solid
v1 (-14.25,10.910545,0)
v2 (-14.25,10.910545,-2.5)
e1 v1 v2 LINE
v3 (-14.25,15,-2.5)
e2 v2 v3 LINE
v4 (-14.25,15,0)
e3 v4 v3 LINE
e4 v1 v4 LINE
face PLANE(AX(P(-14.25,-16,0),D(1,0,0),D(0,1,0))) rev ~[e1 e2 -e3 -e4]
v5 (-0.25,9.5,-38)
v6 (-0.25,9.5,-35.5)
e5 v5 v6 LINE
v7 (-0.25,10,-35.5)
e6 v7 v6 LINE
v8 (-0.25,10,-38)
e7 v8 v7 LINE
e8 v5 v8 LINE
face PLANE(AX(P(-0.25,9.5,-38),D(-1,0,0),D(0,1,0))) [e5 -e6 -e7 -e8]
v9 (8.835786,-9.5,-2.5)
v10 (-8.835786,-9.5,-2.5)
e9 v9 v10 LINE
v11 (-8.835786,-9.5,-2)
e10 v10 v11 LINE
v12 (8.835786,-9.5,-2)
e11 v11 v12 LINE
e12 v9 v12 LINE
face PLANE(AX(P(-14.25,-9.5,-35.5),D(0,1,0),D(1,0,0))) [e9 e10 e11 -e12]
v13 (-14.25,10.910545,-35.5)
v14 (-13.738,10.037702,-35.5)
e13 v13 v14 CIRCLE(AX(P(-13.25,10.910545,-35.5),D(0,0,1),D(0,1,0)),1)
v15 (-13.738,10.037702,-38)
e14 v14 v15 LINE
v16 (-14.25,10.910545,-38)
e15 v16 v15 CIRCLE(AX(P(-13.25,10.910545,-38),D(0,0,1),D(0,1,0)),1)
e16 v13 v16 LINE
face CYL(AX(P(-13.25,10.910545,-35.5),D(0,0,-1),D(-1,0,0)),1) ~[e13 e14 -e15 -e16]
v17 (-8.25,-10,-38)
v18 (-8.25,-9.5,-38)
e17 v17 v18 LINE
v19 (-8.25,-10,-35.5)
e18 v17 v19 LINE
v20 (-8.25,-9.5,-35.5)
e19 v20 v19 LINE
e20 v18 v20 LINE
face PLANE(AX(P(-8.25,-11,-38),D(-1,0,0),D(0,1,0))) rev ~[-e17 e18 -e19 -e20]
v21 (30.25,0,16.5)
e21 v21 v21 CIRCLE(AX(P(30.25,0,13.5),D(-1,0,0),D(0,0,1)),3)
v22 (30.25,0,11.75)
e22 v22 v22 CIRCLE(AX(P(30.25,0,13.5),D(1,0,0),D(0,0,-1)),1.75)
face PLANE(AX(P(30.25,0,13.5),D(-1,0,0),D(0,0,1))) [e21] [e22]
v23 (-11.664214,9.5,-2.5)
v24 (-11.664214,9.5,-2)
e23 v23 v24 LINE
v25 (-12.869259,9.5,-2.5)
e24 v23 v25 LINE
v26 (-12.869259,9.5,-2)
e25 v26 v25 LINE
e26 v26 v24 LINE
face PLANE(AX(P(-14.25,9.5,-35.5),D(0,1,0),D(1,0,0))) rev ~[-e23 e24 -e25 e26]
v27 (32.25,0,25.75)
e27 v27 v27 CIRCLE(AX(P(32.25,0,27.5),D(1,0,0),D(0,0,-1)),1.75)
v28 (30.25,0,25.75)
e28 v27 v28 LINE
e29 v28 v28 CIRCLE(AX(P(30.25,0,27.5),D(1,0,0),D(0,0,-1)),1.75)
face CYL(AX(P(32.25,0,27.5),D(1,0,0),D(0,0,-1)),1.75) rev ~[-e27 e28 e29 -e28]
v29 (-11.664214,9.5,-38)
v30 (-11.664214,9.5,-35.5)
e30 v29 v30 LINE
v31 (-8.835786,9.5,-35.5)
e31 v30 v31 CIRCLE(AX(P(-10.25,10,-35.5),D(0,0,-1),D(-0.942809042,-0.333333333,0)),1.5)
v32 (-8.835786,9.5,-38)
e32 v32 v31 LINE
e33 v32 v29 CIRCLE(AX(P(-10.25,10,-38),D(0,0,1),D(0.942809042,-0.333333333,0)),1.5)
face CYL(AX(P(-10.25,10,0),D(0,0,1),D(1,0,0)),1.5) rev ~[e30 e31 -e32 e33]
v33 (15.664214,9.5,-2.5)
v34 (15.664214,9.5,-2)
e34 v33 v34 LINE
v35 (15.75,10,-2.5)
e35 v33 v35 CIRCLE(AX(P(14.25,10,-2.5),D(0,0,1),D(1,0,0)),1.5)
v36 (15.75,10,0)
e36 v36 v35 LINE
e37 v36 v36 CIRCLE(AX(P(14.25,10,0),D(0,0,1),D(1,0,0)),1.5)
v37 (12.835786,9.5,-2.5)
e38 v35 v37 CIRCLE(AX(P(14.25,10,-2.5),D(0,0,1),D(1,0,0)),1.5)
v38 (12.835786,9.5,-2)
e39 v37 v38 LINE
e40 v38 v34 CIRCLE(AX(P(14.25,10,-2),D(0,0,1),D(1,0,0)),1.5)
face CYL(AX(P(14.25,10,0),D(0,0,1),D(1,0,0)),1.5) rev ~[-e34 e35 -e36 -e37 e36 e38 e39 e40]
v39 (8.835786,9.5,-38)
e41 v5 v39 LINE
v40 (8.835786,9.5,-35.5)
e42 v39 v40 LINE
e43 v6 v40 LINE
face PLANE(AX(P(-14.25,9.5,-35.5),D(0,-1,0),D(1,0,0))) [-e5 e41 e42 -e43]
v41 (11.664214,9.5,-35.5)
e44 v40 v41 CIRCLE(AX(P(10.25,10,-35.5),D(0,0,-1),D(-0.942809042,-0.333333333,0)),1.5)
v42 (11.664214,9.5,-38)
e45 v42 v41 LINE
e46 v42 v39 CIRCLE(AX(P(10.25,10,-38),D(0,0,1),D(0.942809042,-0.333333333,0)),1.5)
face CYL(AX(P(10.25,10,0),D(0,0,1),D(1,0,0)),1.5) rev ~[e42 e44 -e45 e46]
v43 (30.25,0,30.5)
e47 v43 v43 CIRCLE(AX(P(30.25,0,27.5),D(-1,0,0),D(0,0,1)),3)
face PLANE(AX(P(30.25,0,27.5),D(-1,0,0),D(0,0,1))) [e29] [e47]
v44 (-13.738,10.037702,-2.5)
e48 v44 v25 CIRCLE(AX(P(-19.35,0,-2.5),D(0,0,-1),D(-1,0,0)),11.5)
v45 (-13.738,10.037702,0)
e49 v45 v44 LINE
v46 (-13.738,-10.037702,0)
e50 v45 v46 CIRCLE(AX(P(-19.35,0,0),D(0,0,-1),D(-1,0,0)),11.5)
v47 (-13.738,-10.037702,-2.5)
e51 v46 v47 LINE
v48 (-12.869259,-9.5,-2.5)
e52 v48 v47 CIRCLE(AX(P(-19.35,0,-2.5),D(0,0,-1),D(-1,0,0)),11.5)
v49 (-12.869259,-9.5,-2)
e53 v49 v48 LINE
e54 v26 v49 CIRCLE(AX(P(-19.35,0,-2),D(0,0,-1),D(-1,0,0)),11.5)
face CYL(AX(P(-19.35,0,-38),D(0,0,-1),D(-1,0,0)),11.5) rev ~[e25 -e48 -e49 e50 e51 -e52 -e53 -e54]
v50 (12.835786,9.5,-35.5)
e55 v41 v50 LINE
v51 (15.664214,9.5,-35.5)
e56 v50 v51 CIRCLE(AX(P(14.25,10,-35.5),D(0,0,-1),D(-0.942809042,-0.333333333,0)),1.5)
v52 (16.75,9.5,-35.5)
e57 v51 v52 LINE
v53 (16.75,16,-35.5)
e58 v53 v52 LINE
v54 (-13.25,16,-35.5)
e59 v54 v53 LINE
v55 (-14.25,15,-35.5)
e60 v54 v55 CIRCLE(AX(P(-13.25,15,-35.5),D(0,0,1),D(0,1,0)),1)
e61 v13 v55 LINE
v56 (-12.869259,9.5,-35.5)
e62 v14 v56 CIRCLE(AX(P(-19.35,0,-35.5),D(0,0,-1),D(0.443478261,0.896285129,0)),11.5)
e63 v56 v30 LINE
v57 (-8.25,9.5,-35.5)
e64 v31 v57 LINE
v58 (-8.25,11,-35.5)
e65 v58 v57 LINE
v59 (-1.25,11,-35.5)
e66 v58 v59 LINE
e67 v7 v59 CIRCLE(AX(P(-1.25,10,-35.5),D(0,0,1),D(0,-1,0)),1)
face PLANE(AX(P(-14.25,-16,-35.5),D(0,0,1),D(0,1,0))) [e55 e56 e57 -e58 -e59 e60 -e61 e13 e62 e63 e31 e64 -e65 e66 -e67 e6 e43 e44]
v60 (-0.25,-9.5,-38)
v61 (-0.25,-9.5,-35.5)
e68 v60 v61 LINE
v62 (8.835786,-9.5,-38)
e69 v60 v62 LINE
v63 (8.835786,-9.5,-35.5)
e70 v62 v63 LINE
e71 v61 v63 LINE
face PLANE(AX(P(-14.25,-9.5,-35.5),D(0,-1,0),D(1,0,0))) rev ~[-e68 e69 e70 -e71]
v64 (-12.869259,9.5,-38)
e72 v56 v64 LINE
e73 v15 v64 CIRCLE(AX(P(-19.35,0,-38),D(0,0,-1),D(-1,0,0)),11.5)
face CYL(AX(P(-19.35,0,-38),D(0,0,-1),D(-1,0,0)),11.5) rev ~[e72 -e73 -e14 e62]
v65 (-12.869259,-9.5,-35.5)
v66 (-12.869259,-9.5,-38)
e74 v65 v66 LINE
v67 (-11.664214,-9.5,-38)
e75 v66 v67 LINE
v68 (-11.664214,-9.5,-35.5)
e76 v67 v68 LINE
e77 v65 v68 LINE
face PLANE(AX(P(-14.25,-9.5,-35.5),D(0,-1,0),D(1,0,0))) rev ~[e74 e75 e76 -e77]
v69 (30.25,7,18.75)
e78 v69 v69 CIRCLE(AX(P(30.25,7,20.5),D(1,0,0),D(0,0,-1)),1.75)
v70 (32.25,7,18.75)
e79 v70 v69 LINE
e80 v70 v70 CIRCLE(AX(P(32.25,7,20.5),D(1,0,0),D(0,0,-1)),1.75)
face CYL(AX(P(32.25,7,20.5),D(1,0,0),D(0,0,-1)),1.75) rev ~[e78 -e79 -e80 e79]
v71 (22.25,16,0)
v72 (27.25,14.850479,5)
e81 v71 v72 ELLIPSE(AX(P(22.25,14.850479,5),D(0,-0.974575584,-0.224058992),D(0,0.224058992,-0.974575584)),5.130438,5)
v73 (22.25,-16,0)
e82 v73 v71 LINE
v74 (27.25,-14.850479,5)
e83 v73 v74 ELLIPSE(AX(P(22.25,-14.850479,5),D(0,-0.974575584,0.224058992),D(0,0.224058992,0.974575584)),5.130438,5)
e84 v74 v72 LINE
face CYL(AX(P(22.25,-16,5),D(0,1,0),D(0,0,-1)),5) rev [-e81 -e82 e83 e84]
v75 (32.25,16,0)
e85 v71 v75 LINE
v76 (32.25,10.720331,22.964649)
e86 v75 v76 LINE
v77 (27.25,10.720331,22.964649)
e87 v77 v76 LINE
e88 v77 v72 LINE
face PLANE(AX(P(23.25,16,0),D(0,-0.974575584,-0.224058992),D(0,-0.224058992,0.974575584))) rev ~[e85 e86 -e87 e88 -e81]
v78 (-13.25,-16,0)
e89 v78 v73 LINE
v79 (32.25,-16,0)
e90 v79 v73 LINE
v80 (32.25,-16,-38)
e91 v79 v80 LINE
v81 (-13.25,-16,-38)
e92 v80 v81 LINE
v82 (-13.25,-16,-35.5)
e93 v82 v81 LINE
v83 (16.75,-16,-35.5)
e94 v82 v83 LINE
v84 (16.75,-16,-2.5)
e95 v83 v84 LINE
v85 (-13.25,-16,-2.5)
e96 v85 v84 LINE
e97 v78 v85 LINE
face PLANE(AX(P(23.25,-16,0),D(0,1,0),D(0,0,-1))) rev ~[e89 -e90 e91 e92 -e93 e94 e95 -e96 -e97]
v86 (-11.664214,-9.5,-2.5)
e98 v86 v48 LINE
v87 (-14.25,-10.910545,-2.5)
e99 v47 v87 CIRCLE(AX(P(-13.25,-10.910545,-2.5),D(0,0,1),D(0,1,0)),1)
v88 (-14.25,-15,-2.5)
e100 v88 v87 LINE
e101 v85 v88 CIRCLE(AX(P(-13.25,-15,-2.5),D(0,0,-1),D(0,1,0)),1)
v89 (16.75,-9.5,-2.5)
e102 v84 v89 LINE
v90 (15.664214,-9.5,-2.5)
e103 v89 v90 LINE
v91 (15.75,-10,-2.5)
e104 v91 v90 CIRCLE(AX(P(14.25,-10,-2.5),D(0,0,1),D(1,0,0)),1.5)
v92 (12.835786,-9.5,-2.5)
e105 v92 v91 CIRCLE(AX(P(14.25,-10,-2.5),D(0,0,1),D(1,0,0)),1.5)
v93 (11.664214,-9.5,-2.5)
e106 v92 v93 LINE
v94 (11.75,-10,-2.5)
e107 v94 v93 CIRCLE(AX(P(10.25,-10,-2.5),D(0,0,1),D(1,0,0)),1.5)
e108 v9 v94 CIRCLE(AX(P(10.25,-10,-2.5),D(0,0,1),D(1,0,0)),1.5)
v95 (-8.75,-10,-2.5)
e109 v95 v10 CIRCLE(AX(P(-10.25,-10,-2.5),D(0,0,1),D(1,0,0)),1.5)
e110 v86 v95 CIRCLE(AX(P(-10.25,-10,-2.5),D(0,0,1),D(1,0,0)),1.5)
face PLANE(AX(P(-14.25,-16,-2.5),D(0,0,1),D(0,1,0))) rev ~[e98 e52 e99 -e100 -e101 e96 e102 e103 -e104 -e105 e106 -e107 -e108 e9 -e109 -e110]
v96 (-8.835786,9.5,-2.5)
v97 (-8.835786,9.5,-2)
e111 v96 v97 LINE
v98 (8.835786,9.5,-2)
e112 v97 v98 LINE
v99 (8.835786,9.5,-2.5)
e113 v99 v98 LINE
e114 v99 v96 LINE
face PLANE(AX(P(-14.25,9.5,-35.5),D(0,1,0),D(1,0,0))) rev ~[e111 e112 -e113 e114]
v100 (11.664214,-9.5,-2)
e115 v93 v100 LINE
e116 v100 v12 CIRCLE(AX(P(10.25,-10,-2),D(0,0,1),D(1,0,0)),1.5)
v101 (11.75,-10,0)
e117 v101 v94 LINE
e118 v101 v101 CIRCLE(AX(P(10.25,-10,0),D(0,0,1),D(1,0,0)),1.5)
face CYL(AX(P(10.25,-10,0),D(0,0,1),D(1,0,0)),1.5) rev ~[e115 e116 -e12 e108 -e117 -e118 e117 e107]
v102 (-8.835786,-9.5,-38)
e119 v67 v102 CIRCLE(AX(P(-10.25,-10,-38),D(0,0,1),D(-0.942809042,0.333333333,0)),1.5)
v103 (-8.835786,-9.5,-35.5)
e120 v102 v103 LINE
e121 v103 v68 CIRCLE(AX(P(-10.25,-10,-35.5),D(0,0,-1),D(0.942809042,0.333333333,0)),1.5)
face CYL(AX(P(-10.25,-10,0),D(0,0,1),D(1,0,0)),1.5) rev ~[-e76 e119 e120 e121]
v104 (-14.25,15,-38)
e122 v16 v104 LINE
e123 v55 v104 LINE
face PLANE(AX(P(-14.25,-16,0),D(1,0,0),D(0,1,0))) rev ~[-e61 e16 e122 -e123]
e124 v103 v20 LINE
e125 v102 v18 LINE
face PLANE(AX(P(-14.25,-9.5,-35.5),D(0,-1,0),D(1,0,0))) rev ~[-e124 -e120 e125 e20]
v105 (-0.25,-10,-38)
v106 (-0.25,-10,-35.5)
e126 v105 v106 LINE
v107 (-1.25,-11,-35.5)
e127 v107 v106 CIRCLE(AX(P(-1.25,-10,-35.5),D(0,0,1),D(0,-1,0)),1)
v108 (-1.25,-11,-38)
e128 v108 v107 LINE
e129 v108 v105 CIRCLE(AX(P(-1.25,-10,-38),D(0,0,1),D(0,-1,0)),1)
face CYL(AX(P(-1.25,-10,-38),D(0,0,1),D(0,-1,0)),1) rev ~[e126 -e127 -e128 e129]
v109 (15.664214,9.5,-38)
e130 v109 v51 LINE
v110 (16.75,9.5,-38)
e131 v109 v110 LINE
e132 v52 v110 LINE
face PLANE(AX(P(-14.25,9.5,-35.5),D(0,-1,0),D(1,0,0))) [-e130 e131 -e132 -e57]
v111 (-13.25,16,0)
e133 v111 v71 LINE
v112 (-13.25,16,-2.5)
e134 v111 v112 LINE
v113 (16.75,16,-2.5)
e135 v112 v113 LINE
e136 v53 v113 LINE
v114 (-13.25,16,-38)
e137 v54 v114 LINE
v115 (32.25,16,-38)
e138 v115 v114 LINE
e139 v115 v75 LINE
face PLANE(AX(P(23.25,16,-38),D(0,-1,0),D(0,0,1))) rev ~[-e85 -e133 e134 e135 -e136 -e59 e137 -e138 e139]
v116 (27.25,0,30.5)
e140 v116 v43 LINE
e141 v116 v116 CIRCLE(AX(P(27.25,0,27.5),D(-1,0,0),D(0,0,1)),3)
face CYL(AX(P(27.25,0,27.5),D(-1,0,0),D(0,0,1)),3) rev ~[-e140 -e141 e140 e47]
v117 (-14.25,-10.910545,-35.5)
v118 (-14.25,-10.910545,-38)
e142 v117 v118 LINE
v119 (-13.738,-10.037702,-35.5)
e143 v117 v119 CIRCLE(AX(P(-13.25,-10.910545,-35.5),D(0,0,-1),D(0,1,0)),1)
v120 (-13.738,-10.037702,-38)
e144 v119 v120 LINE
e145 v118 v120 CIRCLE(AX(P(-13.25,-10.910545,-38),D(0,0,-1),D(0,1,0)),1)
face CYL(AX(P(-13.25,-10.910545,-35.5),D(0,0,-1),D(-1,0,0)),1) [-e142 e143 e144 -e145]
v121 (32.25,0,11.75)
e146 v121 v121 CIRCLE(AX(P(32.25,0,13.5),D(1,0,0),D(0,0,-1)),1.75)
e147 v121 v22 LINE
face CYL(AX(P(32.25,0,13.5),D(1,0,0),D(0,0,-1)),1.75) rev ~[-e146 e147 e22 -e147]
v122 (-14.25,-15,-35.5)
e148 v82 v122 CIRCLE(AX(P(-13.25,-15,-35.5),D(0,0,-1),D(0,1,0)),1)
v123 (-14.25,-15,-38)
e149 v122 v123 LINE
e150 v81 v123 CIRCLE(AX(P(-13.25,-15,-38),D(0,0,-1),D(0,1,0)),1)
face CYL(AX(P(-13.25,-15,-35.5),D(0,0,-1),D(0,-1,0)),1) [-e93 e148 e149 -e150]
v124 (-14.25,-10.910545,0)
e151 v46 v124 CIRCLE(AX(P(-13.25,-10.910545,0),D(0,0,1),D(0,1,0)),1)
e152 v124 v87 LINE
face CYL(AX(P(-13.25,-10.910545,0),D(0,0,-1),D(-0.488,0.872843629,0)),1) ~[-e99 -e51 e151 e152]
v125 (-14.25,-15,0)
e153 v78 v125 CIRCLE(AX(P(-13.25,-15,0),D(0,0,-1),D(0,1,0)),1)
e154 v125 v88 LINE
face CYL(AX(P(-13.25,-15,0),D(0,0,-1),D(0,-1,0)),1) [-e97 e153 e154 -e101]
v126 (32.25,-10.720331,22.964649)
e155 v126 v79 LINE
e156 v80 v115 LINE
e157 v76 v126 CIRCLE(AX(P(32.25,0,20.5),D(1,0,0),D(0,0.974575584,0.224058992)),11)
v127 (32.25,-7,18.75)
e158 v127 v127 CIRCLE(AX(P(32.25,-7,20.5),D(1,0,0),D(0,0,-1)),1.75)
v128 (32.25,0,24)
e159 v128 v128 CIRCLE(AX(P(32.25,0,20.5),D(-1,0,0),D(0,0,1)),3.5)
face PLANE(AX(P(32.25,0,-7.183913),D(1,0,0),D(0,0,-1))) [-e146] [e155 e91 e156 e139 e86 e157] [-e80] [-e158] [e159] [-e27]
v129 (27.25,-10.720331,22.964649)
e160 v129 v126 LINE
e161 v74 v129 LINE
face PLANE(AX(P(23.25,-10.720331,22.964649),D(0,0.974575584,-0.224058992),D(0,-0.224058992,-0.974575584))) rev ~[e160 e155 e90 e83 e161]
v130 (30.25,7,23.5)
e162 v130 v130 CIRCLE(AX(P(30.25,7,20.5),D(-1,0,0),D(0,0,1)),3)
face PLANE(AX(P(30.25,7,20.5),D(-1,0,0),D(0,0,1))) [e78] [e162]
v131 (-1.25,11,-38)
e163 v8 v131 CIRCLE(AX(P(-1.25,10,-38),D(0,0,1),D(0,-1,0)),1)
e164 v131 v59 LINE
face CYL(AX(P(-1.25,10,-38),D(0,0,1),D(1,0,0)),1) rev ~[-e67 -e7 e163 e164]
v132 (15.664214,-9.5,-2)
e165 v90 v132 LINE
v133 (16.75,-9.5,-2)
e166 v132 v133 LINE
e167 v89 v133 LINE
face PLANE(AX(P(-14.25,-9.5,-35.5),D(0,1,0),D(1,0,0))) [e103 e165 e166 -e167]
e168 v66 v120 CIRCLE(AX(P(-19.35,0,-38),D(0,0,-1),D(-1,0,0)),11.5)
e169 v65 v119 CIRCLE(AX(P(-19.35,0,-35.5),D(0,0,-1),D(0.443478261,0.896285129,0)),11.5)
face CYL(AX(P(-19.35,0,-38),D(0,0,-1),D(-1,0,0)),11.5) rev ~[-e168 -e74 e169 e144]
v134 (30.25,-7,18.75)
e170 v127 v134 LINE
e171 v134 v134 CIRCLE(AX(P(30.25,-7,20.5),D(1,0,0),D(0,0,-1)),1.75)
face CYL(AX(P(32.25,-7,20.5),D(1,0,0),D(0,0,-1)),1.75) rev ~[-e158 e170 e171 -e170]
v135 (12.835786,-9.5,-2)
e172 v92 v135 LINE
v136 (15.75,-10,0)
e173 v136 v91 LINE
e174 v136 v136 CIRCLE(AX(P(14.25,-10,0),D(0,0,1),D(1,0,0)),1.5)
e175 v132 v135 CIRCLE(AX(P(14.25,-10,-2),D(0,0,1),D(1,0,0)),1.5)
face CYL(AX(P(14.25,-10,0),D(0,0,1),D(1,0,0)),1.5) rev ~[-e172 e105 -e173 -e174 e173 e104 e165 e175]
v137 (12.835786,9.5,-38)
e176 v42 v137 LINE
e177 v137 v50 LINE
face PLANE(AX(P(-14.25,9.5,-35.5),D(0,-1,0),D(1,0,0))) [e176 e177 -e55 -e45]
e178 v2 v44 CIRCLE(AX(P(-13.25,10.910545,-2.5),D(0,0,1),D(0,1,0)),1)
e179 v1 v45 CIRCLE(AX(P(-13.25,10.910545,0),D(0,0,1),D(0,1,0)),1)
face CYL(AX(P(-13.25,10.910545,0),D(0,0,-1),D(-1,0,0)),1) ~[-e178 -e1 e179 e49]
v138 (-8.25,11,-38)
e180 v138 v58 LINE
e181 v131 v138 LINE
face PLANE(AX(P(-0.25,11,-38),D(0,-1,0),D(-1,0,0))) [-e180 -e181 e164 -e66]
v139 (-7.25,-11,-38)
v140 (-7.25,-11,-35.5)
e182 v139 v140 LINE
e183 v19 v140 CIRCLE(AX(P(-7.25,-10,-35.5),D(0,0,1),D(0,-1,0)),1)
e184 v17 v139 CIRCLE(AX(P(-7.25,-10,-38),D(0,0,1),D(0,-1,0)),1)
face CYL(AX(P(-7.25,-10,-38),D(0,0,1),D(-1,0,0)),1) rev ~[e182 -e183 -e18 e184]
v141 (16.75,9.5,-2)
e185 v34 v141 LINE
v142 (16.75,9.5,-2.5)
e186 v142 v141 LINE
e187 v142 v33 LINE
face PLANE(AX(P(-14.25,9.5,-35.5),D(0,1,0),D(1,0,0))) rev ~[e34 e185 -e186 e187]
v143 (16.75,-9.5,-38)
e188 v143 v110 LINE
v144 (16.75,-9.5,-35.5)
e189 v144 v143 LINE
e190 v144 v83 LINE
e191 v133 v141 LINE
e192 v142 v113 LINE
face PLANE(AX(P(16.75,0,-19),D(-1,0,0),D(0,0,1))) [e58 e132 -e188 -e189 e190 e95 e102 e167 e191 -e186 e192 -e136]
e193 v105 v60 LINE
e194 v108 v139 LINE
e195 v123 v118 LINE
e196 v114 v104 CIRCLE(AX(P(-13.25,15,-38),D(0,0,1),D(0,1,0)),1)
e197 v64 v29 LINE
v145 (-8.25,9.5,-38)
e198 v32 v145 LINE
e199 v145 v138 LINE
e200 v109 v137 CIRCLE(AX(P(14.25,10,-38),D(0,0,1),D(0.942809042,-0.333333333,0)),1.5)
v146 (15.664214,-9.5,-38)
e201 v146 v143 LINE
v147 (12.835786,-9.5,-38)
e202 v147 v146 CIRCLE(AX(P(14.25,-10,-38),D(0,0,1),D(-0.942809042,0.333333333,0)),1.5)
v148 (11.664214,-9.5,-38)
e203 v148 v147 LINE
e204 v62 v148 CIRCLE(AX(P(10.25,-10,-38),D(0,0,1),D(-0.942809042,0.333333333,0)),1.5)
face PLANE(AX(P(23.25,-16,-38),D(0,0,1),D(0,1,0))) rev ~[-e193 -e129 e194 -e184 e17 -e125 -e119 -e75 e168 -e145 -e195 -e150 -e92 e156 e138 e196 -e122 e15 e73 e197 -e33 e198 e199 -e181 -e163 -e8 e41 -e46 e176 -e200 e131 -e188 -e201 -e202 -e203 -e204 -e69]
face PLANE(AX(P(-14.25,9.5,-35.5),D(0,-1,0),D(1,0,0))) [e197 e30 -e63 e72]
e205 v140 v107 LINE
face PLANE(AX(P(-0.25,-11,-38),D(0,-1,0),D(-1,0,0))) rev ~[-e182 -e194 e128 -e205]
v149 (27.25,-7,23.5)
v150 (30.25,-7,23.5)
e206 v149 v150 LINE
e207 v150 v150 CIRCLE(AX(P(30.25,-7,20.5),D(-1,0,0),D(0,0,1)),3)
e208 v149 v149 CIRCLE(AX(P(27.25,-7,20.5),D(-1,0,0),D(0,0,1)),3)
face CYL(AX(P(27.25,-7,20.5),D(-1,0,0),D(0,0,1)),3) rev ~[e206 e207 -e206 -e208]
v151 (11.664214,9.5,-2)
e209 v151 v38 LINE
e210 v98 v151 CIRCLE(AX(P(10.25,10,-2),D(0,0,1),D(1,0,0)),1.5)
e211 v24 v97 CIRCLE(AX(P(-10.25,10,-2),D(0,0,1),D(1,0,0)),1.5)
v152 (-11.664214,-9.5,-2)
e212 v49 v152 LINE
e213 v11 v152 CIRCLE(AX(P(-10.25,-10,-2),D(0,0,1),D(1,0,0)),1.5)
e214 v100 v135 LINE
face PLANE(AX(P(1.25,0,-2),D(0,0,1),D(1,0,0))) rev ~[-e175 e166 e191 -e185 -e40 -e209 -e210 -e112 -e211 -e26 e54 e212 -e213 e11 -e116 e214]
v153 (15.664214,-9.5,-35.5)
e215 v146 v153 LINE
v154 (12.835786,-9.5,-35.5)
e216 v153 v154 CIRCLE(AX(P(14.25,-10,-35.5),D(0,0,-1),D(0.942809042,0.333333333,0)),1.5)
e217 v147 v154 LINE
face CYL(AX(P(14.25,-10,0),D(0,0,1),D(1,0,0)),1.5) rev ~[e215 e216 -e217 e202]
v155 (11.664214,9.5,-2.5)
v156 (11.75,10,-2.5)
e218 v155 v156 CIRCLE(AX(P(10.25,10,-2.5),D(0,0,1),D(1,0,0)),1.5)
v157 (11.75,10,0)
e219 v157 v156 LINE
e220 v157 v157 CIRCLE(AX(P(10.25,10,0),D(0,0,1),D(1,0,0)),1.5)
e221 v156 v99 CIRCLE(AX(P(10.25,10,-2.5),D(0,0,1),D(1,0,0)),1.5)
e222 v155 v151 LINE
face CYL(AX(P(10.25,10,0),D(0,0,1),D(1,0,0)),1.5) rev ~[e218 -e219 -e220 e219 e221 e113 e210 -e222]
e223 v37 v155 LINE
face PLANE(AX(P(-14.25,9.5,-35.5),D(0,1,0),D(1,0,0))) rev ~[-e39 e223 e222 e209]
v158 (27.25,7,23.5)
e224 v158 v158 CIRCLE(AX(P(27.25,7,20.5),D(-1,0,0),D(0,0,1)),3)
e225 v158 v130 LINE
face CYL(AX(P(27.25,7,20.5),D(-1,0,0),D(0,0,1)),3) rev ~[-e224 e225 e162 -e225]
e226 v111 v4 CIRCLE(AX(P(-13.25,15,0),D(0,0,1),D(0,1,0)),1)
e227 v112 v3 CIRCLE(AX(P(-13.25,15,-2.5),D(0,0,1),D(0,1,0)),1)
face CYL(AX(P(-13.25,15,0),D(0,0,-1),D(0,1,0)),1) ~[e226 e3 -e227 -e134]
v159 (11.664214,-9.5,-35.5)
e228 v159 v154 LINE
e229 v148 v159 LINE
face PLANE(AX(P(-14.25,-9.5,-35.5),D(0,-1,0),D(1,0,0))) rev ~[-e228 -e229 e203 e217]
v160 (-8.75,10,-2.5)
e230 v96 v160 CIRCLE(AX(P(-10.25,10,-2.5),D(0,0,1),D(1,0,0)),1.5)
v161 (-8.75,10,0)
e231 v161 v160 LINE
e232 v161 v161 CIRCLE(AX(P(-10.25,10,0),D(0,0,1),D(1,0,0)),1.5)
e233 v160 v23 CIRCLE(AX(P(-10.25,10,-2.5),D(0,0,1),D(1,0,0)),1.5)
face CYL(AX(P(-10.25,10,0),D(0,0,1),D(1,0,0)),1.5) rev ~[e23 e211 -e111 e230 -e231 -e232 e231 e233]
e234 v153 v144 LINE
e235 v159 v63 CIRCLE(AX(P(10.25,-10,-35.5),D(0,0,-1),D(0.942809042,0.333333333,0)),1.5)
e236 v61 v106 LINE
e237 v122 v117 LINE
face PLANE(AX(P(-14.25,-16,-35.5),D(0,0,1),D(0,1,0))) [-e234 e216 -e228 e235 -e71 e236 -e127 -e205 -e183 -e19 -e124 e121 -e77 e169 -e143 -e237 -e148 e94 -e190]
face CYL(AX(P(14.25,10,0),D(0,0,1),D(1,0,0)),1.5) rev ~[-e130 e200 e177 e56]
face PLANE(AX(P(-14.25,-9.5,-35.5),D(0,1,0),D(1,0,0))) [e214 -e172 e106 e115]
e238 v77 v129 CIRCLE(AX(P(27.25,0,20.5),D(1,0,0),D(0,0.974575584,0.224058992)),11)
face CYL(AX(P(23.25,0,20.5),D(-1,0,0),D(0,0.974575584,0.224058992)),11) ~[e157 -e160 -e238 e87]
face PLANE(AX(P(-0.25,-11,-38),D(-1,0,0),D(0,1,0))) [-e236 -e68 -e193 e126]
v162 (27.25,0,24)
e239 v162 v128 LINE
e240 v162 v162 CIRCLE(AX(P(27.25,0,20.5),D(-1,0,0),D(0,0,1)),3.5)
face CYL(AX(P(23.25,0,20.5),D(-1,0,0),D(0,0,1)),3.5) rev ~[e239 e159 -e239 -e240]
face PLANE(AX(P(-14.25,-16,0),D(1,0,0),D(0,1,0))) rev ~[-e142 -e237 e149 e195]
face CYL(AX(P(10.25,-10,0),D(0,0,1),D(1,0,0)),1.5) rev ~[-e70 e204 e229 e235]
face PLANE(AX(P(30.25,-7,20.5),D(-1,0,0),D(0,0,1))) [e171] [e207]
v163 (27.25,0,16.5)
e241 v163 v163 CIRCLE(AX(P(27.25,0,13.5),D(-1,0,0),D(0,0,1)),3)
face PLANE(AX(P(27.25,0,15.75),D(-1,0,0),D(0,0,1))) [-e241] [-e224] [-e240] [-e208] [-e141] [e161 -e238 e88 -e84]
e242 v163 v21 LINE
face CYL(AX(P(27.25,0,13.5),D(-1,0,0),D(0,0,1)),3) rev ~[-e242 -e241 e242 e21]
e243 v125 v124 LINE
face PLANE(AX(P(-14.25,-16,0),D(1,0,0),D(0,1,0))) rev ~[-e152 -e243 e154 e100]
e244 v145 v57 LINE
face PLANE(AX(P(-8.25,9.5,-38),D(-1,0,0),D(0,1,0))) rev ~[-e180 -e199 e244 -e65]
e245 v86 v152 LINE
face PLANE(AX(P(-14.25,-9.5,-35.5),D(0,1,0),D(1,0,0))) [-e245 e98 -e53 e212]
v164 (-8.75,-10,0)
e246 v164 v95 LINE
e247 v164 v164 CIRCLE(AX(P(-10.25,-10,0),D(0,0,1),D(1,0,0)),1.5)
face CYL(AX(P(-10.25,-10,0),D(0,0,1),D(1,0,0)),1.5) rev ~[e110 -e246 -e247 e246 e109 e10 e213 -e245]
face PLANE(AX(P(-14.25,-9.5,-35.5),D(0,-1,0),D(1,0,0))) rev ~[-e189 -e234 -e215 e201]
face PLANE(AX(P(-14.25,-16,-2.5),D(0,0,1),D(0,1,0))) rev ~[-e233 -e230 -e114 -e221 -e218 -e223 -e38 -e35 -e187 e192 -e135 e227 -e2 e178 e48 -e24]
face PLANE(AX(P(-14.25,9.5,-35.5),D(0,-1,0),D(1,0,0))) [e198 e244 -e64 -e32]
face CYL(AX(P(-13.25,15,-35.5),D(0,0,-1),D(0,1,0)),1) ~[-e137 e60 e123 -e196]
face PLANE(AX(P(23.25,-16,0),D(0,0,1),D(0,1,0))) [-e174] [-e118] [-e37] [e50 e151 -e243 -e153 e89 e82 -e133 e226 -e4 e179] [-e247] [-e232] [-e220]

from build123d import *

# Parameters (mm, degrees)
SKETCH_1_W               = 33.5
SKETCH_1_H               = 32
SKETCH_1_R               = 1.5
EXTRUDE_1_DEPTH          = 38
SKETCH_2_W               = 33
SKETCH_2_H               = 32
CUT_EXTRUDE_1_DEPTH      = 31
SKETCH_4_R               = 11.5
CUT_EXTRUDE_2_DEPTH      = 39
SKETCH_5_W               = 31
SKETCH_5_H               = 19
CUT_EXTRUDE_3_DEPTH      = 33.5
CUT_EXTRUDE_3_DEPTH_BACK = 11.5
SKETCH_8_W               = 38
SKETCH_8_H               = 32
EXTRUDE_3_DEPTH          = 4
EXTRUDE_4_DEPTH          = 9
SKETCH_11_W              = 8
SKETCH_11_H              = 1.5
CUT_EXTRUDE_4_DEPTH      = 10
FILLET_3_R               = 1
SKETCH_12_R              = 1.75
CUT_EXTRUDE_5_DEPTH      = 47.5
SKETCH_13_R              = 3.5
CUT_EXTRUDE_6_DEPTH      = 10
SKETCH_15_W              = 31.5
SKETCH_15_H              = 32
CUT_EXTRUDE_7_DEPTH      = 4
SKETCH_16_R              = 3
CUT_EXTRUDE_8_DEPTH      = 3
FILLET_4_R               = 5


with BuildPart() as part:
    # Эскиз1 → Бобышка-Вытянуть1 (new body)
    with BuildSketch(Plane.XY):
        with Locations((2.5, 0)):
            Rectangle(SKETCH_1_W, SKETCH_1_H)
        with Locations((10.25, -10)):
            Circle(SKETCH_1_R, mode=Mode.SUBTRACT)
        with Locations((-10.25, -10)):
            Circle(SKETCH_1_R, mode=Mode.SUBTRACT)
        with Locations((14.25, -10)):
            Circle(SKETCH_1_R, mode=Mode.SUBTRACT)
        with Locations((14.25, 10)):
            Circle(SKETCH_1_R, mode=Mode.SUBTRACT)
        with Locations((10.25, 10)):
            Circle(SKETCH_1_R, mode=Mode.SUBTRACT)
        with Locations((-10.25, 10)):
            Circle(SKETCH_1_R, mode=Mode.SUBTRACT)
    extrude(amount=-EXTRUDE_1_DEPTH)

    # Эскиз2 → Вырез-Вытянуть1 (cut)
    with BuildSketch(Plane.ZY.offset(14.25)):
        with Locations((-19, 0)):
            Rectangle(SKETCH_2_W, SKETCH_2_H)
    extrude(amount=-CUT_EXTRUDE_1_DEPTH, mode=Mode.SUBTRACT)

    # Эскиз4 → Вырез-Вытянуть2 (cut, through all)
    with BuildSketch(Plane(origin=(0, 0, -38), x_dir=(-1, 0, 0), z_dir=(0, 0, -1))):
        with Locations((19.35, 0)):
            Circle(SKETCH_4_R)
    extrude(amount=-CUT_EXTRUDE_2_DEPTH, mode=Mode.SUBTRACT)

    # Эскиз5 → Вырез-Вытянуть3 (cut, two sides)
    with BuildSketch(Plane.XY.offset(-35.5)) as cut_extrude_3_sk:
        with Locations((1.25, 0)):
            Rectangle(SKETCH_5_W, SKETCH_5_H)
    extrude(amount=CUT_EXTRUDE_3_DEPTH, mode=Mode.SUBTRACT)
    extrude(cut_extrude_3_sk.sketch, amount=-CUT_EXTRUDE_3_DEPTH_BACK, mode=Mode.SUBTRACT)

    # Эскиз8 → Бобышка-Вытянуть3 (add)
    with BuildSketch(Plane(origin=(19.25, 0, 0), x_dir=(0, 0, -1), z_dir=(1, 0, 0))):
        with Locations((19, 0)):
            Rectangle(SKETCH_8_W, SKETCH_8_H)
    extrude(amount=EXTRUDE_3_DEPTH)

    # Эскиз10 → Бобышка-Вытянуть4 (add)
    with BuildSketch(Plane(origin=(23.25, 0, 0), x_dir=(0, 0, -1), z_dir=(1, 0, 0))):
        with BuildLine():
            Line((38, 16), (0, 16))
            Line((0, 16), (-22.964648913, 10.720331419))
            ThreePointArc((-22.964648913, 10.720331419), (-31.5, 0), (-22.964648913, -10.720331419))
            Line((-22.964648913, -10.720331419), (0, -16))
            Line((0, -16), (38, -16))
            Line((38, -16), (38, 16))
        make_face()
    extrude(amount=EXTRUDE_4_DEPTH)

    # Эскиз11 → Вырез-Вытянуть4 (cut)
    with BuildSketch(Plane(origin=(0, 0, -38), x_dir=(-1, 0, 0), z_dir=(0, 0, -1))):
        with Locations((4.25, 10.25)):
            Rectangle(SKETCH_11_W, SKETCH_11_H)
        with Locations((4.25, -10.25)):
            Rectangle(SKETCH_11_W, SKETCH_11_H)
    extrude(amount=-CUT_EXTRUDE_4_DEPTH, mode=Mode.SUBTRACT)

    # Скругление3
    fillet_3_edges = [part.edges().sort_by_distance(p)[0] for p in [
        (-14.25, -16, -36.75),
        (-14.25, 16, -36.75),
        (-0.25, 11, -36.75),
        (-8.25, -11, -36.75),
        (-0.25, -11, -36.75),
        (-14.25, 16, -1.25),
        (-14.25, -16, -1.25),
        (-14.25, 10.307278981, -1.25),
        (-14.25, -10.307278981, -1.25),
        (-14.25, 10.307278981, -36.75),
        (-14.25, -10.307278981, -36.75),
    ]]
    fillet(fillet_3_edges, radius=FILLET_3_R)

    # Эскиз12 → Вырез-Вытянуть5 (cut, through all)
    with BuildSketch(Plane(origin=(32.25, 0, 0), x_dir=(0, 0, -1), z_dir=(1, 0, 0))):
        with Locations((-27.5, 0)):
            Circle(SKETCH_12_R)
        with Locations((-20.5, 7)):
            Circle(SKETCH_12_R)
        with Locations((-13.5, 0)):
            Circle(SKETCH_12_R)
        with Locations((-20.5, -7)):
            Circle(SKETCH_12_R)
    extrude(amount=-CUT_EXTRUDE_5_DEPTH, mode=Mode.SUBTRACT)

    # Эскиз13 → Вырез-Вытянуть6 (cut)
    with BuildSketch(Plane.ZY.offset(-23.25)):
        with Locations((20.5, 0)):
            Circle(SKETCH_13_R)
    extrude(amount=-CUT_EXTRUDE_6_DEPTH, mode=Mode.SUBTRACT)

    # Эскиз15 → Вырез-Вытянуть7 (cut)
    with BuildSketch(Plane.ZY.offset(-23.25)):
        with Locations((15.75, 0)):
            Rectangle(SKETCH_15_W, SKETCH_15_H)
    extrude(amount=-CUT_EXTRUDE_7_DEPTH, mode=Mode.SUBTRACT)

    # Эскиз16 → Вырез-Вытянуть8 (cut)
    with BuildSketch(Plane.ZY.offset(-27.25)):
        with Locations((20.5, 7)):
            Circle(SKETCH_16_R)
        with Locations((27.5, 0)):
            Circle(SKETCH_16_R)
        with Locations((20.5, -7)):
            Circle(SKETCH_16_R)
        with Locations((13.5, 0)):
            Circle(SKETCH_16_R)
    extrude(amount=-CUT_EXTRUDE_8_DEPTH, mode=Mode.SUBTRACT)

    # Скругление4
    fillet_4_edges = [part.edges().sort_by_distance(p)[0] for p in [
        (27.25, 0, 0),
    ]]
    fillet(fillet_4_edges, radius=FILLET_4_R)


solid = part.part
